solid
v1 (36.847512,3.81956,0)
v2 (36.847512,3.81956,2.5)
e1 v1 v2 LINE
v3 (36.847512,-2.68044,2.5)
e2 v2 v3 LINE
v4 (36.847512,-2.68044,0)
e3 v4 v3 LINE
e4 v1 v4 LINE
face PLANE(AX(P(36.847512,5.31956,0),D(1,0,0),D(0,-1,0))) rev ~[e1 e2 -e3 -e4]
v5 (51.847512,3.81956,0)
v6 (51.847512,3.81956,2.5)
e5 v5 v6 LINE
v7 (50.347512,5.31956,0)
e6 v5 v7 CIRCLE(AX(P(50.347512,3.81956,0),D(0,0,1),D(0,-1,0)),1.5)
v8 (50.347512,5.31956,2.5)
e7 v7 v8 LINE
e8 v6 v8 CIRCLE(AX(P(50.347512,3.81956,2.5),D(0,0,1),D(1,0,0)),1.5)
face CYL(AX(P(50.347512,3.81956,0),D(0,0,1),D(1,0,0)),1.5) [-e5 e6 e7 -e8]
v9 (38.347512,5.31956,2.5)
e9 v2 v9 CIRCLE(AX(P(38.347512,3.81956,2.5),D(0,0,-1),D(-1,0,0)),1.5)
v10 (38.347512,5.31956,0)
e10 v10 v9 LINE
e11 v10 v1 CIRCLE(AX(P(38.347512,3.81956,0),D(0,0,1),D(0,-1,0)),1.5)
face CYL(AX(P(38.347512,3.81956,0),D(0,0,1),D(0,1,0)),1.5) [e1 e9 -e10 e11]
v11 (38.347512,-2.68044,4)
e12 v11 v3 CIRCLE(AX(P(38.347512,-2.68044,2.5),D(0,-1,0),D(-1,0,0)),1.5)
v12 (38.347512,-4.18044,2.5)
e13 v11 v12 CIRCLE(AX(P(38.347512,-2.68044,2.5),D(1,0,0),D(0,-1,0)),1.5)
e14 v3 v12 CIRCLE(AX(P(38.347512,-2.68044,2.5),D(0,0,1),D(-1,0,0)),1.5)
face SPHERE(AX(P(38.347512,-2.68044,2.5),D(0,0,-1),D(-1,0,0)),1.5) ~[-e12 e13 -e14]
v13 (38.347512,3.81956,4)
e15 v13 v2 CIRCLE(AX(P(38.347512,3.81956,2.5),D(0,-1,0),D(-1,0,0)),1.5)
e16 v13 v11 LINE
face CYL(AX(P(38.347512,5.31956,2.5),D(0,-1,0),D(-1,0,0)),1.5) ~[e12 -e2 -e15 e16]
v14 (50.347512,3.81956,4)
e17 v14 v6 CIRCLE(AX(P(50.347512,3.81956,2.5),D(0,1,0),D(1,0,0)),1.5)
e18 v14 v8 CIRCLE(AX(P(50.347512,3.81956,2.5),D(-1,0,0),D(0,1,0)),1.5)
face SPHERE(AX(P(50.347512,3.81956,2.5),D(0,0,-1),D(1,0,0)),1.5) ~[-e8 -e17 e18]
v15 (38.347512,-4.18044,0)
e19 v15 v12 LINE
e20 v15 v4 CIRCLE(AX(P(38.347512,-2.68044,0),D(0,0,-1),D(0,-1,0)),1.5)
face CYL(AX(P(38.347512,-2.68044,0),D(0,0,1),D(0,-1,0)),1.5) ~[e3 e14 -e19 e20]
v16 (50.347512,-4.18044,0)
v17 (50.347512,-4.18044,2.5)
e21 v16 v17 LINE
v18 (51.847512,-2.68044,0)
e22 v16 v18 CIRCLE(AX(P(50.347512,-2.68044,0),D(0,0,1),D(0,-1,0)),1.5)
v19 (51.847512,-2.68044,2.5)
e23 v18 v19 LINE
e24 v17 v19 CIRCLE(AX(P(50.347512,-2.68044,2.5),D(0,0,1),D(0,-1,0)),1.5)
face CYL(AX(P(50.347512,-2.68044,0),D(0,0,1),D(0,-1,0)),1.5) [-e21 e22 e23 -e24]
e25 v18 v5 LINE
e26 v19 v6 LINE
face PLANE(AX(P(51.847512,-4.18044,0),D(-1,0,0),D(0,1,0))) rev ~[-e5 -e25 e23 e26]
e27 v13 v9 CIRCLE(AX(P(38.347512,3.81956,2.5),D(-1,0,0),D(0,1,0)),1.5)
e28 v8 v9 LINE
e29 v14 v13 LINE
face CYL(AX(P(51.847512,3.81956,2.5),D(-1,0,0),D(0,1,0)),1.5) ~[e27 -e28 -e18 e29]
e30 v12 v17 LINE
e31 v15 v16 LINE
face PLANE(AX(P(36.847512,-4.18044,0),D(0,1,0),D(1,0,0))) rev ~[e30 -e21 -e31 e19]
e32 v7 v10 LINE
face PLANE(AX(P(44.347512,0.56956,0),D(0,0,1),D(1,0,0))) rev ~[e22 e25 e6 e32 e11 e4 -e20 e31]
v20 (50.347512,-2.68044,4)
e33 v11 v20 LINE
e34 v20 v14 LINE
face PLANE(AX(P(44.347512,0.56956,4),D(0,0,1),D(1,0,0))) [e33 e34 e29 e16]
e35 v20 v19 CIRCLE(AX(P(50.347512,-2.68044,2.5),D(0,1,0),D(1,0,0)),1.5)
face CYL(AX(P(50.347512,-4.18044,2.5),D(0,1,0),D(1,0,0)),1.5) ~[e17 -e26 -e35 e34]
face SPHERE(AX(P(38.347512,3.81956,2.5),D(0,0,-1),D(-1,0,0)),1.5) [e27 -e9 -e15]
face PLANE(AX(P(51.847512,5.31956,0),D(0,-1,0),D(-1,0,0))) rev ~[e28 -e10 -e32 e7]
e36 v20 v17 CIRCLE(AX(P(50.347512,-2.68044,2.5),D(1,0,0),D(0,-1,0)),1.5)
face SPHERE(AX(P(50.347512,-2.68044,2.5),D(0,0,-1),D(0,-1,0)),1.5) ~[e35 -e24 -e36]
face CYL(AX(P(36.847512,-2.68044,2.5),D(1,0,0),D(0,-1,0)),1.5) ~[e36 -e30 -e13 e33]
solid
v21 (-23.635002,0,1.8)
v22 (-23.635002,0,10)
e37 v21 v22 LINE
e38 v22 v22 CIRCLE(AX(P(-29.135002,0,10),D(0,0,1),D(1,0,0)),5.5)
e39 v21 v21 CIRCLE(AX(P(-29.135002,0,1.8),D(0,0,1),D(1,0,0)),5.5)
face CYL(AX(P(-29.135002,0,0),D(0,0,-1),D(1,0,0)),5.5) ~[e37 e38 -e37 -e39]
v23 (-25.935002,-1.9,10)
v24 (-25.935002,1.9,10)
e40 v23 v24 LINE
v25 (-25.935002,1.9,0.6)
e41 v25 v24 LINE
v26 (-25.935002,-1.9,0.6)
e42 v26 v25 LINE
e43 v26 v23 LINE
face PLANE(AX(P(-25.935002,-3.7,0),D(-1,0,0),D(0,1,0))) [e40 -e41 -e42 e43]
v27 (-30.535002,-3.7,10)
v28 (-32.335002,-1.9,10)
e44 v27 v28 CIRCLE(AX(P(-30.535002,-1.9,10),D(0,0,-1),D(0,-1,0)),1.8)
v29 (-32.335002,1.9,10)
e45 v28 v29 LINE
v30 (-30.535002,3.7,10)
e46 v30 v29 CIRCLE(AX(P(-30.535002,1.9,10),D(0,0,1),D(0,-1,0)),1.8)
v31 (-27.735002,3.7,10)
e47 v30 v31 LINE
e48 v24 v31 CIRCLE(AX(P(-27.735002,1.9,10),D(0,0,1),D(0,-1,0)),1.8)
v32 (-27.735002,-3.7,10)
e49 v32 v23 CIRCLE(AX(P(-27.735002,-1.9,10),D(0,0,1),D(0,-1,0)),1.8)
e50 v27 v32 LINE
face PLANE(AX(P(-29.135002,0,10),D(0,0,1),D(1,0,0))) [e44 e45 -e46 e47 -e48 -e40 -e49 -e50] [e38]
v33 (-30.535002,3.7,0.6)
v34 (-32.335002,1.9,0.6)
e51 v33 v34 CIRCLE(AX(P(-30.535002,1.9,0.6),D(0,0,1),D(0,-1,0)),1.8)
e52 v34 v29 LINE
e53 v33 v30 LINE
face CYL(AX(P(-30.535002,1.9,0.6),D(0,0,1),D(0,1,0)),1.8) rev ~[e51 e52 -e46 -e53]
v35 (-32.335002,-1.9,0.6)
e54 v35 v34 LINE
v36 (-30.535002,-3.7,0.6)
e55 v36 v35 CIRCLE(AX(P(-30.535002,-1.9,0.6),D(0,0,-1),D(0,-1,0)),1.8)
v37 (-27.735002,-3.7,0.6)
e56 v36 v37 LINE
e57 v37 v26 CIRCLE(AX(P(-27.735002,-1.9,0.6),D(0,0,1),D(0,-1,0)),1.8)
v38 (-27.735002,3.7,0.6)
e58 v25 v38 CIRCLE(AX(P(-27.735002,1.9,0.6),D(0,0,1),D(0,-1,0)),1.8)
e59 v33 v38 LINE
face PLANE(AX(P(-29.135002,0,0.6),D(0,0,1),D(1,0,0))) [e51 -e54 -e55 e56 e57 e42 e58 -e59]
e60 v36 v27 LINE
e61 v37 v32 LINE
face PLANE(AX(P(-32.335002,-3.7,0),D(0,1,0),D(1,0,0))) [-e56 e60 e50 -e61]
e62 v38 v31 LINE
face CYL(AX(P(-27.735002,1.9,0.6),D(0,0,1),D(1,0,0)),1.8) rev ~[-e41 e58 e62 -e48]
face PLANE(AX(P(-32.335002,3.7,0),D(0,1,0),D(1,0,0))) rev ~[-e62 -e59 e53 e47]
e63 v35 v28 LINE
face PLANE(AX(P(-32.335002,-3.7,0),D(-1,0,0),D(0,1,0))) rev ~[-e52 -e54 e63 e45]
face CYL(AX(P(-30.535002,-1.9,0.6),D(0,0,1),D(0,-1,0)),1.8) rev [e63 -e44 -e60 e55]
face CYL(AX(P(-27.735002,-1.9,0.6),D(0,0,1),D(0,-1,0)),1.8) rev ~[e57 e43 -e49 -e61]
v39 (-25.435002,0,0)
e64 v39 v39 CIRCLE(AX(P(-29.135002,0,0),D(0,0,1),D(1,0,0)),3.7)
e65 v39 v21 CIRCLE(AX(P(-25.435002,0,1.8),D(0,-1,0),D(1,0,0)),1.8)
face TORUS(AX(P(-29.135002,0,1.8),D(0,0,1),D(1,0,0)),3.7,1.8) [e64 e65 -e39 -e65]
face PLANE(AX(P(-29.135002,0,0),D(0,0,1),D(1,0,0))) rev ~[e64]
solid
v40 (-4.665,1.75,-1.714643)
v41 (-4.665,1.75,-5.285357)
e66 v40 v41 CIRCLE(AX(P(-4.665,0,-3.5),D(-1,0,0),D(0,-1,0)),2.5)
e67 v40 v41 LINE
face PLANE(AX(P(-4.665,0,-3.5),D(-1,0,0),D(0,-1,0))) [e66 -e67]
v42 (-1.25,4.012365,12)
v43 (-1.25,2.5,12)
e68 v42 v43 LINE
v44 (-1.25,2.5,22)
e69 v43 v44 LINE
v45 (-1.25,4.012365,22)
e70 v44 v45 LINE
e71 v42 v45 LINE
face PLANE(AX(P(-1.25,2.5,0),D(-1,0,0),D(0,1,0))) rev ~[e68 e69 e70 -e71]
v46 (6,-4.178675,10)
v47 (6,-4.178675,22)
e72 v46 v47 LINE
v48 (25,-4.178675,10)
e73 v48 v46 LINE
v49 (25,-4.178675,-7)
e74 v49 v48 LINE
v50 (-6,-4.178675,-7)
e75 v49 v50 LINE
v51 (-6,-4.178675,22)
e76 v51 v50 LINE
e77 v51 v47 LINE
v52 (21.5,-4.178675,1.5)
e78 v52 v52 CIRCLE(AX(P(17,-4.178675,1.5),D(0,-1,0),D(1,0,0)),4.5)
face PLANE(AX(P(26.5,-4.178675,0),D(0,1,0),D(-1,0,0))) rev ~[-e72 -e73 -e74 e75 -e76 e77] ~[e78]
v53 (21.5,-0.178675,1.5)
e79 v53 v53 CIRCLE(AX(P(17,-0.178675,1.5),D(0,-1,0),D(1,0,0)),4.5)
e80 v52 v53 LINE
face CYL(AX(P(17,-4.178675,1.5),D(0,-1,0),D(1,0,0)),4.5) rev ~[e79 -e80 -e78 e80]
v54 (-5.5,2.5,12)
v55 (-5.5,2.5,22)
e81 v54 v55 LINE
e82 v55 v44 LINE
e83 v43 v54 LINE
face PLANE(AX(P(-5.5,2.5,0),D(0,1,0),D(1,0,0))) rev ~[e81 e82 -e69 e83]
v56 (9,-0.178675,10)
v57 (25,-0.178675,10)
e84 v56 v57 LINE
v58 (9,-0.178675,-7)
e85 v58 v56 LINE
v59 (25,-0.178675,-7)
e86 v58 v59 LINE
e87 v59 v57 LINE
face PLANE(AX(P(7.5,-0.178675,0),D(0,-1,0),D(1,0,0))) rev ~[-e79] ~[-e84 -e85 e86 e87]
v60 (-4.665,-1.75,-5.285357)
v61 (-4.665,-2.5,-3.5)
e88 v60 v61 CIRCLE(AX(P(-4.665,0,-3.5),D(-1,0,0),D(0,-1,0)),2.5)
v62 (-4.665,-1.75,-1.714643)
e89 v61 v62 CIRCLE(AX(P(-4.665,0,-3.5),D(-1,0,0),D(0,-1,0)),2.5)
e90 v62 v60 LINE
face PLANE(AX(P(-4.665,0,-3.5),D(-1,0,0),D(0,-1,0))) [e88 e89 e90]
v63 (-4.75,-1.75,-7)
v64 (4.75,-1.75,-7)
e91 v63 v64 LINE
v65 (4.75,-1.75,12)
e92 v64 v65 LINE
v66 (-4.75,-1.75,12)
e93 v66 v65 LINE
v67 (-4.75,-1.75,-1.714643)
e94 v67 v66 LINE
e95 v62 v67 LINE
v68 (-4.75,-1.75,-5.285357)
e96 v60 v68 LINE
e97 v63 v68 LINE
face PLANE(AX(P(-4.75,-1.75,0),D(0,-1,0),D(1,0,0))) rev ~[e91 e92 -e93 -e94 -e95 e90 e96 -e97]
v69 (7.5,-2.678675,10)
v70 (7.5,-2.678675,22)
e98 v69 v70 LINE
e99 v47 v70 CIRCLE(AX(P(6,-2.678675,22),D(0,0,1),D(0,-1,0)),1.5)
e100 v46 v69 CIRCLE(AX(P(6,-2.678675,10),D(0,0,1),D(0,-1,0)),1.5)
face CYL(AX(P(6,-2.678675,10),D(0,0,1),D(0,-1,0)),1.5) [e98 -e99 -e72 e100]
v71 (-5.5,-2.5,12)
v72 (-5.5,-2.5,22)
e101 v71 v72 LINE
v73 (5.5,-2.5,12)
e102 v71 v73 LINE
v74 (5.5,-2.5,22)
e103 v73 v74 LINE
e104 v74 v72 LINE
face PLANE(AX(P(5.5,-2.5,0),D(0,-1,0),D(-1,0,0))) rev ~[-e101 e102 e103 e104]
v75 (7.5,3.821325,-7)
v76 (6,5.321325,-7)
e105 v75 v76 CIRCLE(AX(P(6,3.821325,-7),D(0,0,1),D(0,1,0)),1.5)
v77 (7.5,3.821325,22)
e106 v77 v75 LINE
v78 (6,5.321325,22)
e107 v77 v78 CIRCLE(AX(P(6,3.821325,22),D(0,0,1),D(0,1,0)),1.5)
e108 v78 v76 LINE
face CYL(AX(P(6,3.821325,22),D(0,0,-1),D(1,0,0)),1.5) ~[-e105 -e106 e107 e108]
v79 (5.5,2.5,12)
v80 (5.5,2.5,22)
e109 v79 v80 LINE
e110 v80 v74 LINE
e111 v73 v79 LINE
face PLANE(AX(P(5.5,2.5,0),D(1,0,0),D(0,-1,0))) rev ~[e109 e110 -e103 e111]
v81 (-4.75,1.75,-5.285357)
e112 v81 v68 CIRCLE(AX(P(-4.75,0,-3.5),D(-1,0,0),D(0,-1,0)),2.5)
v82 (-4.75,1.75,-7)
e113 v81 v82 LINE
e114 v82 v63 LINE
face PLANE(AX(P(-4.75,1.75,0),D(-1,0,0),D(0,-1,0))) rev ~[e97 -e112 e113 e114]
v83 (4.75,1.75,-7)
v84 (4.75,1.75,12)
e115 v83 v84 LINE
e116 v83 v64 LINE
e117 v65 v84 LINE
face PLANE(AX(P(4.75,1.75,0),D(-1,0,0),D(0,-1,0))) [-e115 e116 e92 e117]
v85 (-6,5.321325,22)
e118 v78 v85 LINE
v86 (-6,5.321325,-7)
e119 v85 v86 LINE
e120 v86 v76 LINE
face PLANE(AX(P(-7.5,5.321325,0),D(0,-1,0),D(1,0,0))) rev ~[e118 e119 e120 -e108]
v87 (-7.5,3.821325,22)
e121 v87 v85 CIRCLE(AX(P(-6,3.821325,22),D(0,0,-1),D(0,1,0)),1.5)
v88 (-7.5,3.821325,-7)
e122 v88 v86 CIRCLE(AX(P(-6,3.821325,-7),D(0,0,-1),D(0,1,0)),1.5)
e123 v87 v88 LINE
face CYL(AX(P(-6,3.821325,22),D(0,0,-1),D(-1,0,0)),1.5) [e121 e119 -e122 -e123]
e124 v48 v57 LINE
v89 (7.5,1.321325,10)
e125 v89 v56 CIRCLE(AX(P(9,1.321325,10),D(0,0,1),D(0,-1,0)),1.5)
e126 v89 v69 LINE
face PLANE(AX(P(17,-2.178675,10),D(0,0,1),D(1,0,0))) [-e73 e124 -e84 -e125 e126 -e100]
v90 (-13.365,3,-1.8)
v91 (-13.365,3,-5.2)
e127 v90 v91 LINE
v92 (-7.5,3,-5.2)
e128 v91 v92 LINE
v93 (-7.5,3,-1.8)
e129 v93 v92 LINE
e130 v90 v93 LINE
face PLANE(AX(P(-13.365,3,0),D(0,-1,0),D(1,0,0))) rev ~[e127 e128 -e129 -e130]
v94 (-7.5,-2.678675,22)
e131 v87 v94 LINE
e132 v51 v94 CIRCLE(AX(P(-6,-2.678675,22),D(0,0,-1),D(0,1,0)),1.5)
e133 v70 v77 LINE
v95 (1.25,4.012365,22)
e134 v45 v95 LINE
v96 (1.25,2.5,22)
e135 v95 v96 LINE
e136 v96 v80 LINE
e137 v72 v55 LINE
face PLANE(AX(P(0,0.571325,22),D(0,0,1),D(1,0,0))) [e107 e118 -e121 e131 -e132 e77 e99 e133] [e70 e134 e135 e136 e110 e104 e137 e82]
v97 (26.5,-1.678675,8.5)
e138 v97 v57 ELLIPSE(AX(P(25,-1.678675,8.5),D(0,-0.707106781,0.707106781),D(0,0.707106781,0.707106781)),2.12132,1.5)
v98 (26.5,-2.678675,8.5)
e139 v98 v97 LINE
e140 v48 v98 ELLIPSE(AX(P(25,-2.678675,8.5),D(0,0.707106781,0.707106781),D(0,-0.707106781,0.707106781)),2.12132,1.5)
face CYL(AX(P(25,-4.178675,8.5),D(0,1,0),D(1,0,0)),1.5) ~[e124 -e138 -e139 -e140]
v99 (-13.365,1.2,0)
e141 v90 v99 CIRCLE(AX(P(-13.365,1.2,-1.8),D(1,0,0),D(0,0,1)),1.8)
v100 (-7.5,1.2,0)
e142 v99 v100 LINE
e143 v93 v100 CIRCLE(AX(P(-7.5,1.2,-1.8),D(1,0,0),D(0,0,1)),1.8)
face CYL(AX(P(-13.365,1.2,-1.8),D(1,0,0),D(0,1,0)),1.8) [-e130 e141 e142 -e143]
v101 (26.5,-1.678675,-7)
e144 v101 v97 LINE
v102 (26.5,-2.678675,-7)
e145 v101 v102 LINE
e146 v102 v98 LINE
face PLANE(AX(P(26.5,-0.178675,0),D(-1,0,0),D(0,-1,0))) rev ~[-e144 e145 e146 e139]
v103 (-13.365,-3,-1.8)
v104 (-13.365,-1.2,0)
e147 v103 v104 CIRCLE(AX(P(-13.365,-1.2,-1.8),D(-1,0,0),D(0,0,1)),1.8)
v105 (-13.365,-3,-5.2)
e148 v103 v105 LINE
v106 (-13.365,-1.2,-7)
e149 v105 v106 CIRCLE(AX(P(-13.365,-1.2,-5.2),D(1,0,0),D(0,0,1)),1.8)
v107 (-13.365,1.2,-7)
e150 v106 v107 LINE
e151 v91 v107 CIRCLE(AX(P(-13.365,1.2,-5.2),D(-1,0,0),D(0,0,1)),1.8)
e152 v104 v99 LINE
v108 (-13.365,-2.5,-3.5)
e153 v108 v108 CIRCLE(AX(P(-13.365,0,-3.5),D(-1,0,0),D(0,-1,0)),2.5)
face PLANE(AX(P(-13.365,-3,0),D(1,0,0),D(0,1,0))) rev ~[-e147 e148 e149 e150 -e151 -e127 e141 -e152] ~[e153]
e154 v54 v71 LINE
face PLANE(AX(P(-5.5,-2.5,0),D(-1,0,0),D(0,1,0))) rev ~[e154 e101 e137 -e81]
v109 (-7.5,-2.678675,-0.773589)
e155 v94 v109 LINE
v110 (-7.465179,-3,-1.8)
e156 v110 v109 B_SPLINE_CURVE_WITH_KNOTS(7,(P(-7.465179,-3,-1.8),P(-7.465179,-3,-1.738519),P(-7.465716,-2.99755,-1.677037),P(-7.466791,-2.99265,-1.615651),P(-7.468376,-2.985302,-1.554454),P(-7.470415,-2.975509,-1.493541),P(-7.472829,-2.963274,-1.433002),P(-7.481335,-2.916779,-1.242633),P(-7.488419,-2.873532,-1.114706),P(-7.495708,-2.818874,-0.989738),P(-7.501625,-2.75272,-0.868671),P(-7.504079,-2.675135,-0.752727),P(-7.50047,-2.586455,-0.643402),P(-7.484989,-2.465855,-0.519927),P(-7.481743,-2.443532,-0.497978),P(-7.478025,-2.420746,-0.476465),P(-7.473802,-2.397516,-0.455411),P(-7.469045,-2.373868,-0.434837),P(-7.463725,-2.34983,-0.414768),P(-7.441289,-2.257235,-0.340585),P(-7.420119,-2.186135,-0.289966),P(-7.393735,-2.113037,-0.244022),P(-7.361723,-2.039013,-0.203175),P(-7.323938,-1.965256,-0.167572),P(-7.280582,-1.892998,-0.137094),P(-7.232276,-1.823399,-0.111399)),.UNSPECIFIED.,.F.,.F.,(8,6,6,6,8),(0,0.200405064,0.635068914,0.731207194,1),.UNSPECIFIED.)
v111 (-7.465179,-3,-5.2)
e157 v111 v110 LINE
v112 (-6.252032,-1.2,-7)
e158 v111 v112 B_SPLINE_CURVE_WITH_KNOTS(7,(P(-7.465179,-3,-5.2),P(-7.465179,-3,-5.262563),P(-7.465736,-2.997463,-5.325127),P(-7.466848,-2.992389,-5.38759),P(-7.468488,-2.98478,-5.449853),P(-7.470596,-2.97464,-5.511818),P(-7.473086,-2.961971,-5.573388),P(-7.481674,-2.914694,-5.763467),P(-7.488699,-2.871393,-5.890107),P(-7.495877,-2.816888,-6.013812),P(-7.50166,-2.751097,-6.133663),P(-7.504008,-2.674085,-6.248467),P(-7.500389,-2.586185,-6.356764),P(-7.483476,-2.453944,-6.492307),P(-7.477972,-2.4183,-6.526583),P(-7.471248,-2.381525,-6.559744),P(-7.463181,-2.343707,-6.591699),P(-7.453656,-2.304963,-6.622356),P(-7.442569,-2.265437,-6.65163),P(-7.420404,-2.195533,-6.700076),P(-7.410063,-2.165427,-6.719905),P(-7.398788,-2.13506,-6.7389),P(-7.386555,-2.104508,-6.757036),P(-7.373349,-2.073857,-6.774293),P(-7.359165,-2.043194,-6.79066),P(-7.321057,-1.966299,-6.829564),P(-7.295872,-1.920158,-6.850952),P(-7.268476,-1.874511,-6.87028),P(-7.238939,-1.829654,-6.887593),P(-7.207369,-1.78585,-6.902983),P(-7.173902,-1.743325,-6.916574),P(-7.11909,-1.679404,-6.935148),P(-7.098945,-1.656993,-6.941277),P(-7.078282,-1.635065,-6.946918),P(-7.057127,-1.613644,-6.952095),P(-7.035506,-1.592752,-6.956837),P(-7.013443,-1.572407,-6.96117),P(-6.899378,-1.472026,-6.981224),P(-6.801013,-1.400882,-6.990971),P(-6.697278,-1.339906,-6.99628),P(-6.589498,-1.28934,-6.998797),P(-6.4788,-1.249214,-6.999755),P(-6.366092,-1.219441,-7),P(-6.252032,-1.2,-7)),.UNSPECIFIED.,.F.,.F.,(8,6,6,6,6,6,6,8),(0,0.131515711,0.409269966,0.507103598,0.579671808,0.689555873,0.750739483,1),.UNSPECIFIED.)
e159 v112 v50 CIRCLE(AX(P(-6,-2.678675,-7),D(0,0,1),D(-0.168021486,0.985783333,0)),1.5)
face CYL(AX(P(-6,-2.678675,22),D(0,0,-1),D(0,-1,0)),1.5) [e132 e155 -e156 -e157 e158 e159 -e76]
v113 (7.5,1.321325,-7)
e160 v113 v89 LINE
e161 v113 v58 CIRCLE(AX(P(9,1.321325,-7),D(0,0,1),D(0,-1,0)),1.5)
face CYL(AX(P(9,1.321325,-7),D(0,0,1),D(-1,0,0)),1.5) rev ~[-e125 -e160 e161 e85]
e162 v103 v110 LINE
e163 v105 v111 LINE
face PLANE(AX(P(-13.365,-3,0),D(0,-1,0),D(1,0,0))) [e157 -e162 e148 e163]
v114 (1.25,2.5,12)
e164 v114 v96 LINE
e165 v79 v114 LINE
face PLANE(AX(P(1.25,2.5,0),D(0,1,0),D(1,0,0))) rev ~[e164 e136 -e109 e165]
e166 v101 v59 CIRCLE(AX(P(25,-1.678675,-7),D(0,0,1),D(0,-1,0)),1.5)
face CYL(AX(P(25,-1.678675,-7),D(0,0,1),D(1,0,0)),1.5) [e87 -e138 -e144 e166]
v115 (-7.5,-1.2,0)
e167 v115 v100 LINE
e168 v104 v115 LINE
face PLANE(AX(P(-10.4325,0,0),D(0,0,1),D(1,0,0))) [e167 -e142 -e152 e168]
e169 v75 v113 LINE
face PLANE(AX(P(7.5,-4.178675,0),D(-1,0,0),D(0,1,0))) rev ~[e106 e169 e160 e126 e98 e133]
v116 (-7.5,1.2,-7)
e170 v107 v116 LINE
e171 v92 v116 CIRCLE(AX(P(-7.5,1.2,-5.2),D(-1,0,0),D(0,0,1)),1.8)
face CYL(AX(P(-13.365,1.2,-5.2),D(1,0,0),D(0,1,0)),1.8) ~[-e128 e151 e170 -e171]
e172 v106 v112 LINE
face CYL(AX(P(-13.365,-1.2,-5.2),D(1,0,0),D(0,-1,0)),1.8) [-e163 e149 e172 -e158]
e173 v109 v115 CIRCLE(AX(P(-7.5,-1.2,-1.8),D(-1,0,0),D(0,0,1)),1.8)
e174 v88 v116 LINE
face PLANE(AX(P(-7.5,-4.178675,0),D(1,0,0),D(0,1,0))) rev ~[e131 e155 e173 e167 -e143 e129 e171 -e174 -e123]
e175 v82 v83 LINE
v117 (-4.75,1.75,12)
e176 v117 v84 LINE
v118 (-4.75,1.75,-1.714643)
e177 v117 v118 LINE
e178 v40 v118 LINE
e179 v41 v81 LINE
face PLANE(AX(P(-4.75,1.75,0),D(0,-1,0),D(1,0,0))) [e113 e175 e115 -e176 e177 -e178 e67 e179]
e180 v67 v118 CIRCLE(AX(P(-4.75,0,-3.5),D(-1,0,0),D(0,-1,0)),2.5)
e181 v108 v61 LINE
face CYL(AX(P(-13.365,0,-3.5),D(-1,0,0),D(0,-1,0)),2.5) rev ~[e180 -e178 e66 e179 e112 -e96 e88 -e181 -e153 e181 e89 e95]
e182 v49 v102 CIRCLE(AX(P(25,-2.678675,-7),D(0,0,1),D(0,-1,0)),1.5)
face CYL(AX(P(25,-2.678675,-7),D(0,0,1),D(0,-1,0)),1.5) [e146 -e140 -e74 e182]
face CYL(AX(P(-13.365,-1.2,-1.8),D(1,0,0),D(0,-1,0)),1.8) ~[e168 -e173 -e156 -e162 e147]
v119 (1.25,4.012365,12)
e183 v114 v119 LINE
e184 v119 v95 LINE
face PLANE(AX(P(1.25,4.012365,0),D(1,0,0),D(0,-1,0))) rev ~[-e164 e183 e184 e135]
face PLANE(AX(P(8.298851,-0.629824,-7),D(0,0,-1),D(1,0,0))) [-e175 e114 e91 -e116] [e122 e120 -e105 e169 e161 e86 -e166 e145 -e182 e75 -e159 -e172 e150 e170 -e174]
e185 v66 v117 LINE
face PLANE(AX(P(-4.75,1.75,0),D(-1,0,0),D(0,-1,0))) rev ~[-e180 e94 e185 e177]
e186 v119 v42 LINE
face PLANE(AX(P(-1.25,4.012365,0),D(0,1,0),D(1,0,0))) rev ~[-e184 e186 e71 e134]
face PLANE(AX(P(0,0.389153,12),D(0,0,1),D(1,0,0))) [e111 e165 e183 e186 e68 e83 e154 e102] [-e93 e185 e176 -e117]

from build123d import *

# Parameters (mm, degrees)
F1_DEPTH  = 22
F0_W      = 9.5
F0_H      = 3.5
F2_DEPTH  = 12
F0_W_2    = 19
F0_H_2    = 4
F3_DEPTH  = 10
F3_FACE_W = 9.5
F3_FACE_H = 3.5
F4_DEPTH  = 7
F5_R      = 4.5
F6_DEPTH  = 25
F0_W_3    = 5.865
F0_H_3    = 6
F7_DEPTH  = 7
F8_R      = 1.5
F9_R      = 1.8
F10_R     = 2.5
F11_DEPTH = 8.7
F12_R     = 5.5
F12_W     = 6.4
F12_H     = 7.4
F13_DEPTH = 10
F14_DEPTH = 0.6
F15_R     = 1.8
F17_DEPTH = 4
F18_R     = 1.5


with BuildPart() as f1:
    # F0 (on Top) → F1 (new body)
    with BuildSketch(Plane.XY):
        Polygon((-7.5, -4.178675), (7.5, -4.178675), (7.5, -0.178675), (7.5, 5.321325), (-7.5, 5.321325), (-7.5, 3), (-7.5, -3), align=None)
        Polygon((5.5, 2.5), (5.5, -2.5), (-5.5, -2.5), (-5.5, 2.5), (-1.25, 2.5), (-1.25, 4.012365), (1.25, 4.012365), (1.25, 2.5), align=None, mode=Mode.SUBTRACT)
    extrude(amount=F1_DEPTH)

    # F0 (on Top) → F2 (join)
    with BuildSketch(Plane.XY):
        Polygon((-5.5, -2.5), (5.5, -2.5), (5.5, 2.5), (1.25, 2.5), (1.25, 4.012365), (-1.25, 4.012365), (-1.25, 2.5), (-5.5, 2.5), align=None)
        Rectangle(F0_W, F0_H, mode=Mode.SUBTRACT)
    extrude(amount=F2_DEPTH)

    # F0 (on Top) → F3 (join)
    with BuildSketch(Plane.XY):
        with Locations((17, -2.178675)):
            Rectangle(F0_W_2, F0_H_2)
    extrude(amount=F3_DEPTH)

    # F3_face (on face) → F4 (join)
    with BuildSketch(Plane(origin=(6.974359, -0.454335, 0), x_dir=(1, 0, 0), z_dir=(0, 0, -1))):
        Polygon((19.525641, 3.72434), (-14.474359, 3.72434), (-14.474359, -5.77566), (0.525641, -5.77566), (0.525641, -0.27566), (19.525641, -0.27566), align=None)
        with Locations((-6.974359, -0.454335)):
            Rectangle(F3_FACE_W, F3_FACE_H, mode=Mode.SUBTRACT)
    extrude(amount=F4_DEPTH)

    # F5 (on face) → F6 (cut)
    with BuildSketch(Plane.XZ.offset(4.178675)):
        with Locations((17, 1.5)):
            Circle(F5_R)
    extrude(amount=-F6_DEPTH, mode=Mode.SUBTRACT)

    # F0 (on Top) → F7 (join)
    with BuildSketch(Plane.XY):
        with Locations((-10.4325, 0)):
            Rectangle(F0_W_3, F0_H_3)
    extrude(amount=-F7_DEPTH)

    # F8
    f8_edges = [f1.edges().sort_by_distance(p)[0] for p in [
        (-7.5, 5.321325, 7.5),
        (7.5, 5.321325, 7.5),
        (7.5, -4.178675, 16),
        (-7.5, -4.178675, 7.5),
        (26.5, -4.178675, 1.5),
        (26.5, -0.178675, 1.5),
        (7.5, -0.178675, 1.5),
        (26.5, -2.178675, 10),
    ]]
    fillet(f8_edges, radius=F8_R)

    # F9
    f9_edges = [f1.edges().sort_by_distance(p)[0] for p in [
        (-10.4325, 3, -7),
        (-10.41509, -3, -7),
        (-10.41509, -3, 0),
        (-10.4325, 3, 0),
    ]]
    fillet(f9_edges, radius=F9_R)

    # F10 (on face) → F11 (cut)
    with BuildSketch(Plane(origin=(-13.365, 0, 0), x_dir=(0, -1, 0), z_dir=(-1, 0, 0))):
        with Locations((0, -3.5)):
            Circle(F10_R)
    extrude(amount=-F11_DEPTH, mode=Mode.SUBTRACT)


with BuildPart() as f13:
    # F12 (on Top) → F13 (new body)
    with BuildSketch(Plane.XY):
        with Locations((-29.135002, 0)):
            Circle(F12_R)
        with Locations((-29.135002, 0)):
            Rectangle(F12_W, F12_H, mode=Mode.SUBTRACT)
    extrude(amount=F13_DEPTH)

    # F12 (on Top) → F14 (join)
    with BuildSketch(Plane.XY):
        with Locations((-29.135002, 0)):
            Rectangle(F12_W, F12_H)
    extrude(amount=F14_DEPTH)

    # F15
    f15_edges = [f13.edges().sort_by_distance(p)[0] for p in [
        (-25.935002, 3.7, 5.3),
        (-32.335002, 3.7, 5.3),
        (-34.635002, 0, 0),
        (-25.935002, -3.7, 5.3),
        (-32.335002, -3.7, 5.3),
    ]]
    fillet(f15_edges, radius=F15_R)


with BuildPart() as f17:
    # F16 (on Top) → F17 (new body)
    with BuildSketch(Plane.XY):
        Polygon((36.847512, -4.18044), (51.847512, -4.18044), (51.847512, -0.18044), (51.847512, 5.31956), (36.847512, 5.31956), (36.847512, 2.998235), (36.847512, -3.001765), align=None)
    extrude(amount=F17_DEPTH)

    # F18
    f18_edges = [f17.edges().sort_by_distance(p)[0] for p in [
        (51.847512, -4.18044, 2),
        (36.847512, -4.18044, 2),
        (36.847512, 5.31956, 2),
        (51.847512, 5.31956, 2),
        (36.847512, 0.56956, 4),
        (44.347512, -4.18044, 4),
        (51.847512, 0.56956, 4),
        (44.347512, 5.31956, 4),
    ]]
    fillet(f18_edges, radius=F18_R)


solid = Compound([f1.part, f13.part, f17.part])
